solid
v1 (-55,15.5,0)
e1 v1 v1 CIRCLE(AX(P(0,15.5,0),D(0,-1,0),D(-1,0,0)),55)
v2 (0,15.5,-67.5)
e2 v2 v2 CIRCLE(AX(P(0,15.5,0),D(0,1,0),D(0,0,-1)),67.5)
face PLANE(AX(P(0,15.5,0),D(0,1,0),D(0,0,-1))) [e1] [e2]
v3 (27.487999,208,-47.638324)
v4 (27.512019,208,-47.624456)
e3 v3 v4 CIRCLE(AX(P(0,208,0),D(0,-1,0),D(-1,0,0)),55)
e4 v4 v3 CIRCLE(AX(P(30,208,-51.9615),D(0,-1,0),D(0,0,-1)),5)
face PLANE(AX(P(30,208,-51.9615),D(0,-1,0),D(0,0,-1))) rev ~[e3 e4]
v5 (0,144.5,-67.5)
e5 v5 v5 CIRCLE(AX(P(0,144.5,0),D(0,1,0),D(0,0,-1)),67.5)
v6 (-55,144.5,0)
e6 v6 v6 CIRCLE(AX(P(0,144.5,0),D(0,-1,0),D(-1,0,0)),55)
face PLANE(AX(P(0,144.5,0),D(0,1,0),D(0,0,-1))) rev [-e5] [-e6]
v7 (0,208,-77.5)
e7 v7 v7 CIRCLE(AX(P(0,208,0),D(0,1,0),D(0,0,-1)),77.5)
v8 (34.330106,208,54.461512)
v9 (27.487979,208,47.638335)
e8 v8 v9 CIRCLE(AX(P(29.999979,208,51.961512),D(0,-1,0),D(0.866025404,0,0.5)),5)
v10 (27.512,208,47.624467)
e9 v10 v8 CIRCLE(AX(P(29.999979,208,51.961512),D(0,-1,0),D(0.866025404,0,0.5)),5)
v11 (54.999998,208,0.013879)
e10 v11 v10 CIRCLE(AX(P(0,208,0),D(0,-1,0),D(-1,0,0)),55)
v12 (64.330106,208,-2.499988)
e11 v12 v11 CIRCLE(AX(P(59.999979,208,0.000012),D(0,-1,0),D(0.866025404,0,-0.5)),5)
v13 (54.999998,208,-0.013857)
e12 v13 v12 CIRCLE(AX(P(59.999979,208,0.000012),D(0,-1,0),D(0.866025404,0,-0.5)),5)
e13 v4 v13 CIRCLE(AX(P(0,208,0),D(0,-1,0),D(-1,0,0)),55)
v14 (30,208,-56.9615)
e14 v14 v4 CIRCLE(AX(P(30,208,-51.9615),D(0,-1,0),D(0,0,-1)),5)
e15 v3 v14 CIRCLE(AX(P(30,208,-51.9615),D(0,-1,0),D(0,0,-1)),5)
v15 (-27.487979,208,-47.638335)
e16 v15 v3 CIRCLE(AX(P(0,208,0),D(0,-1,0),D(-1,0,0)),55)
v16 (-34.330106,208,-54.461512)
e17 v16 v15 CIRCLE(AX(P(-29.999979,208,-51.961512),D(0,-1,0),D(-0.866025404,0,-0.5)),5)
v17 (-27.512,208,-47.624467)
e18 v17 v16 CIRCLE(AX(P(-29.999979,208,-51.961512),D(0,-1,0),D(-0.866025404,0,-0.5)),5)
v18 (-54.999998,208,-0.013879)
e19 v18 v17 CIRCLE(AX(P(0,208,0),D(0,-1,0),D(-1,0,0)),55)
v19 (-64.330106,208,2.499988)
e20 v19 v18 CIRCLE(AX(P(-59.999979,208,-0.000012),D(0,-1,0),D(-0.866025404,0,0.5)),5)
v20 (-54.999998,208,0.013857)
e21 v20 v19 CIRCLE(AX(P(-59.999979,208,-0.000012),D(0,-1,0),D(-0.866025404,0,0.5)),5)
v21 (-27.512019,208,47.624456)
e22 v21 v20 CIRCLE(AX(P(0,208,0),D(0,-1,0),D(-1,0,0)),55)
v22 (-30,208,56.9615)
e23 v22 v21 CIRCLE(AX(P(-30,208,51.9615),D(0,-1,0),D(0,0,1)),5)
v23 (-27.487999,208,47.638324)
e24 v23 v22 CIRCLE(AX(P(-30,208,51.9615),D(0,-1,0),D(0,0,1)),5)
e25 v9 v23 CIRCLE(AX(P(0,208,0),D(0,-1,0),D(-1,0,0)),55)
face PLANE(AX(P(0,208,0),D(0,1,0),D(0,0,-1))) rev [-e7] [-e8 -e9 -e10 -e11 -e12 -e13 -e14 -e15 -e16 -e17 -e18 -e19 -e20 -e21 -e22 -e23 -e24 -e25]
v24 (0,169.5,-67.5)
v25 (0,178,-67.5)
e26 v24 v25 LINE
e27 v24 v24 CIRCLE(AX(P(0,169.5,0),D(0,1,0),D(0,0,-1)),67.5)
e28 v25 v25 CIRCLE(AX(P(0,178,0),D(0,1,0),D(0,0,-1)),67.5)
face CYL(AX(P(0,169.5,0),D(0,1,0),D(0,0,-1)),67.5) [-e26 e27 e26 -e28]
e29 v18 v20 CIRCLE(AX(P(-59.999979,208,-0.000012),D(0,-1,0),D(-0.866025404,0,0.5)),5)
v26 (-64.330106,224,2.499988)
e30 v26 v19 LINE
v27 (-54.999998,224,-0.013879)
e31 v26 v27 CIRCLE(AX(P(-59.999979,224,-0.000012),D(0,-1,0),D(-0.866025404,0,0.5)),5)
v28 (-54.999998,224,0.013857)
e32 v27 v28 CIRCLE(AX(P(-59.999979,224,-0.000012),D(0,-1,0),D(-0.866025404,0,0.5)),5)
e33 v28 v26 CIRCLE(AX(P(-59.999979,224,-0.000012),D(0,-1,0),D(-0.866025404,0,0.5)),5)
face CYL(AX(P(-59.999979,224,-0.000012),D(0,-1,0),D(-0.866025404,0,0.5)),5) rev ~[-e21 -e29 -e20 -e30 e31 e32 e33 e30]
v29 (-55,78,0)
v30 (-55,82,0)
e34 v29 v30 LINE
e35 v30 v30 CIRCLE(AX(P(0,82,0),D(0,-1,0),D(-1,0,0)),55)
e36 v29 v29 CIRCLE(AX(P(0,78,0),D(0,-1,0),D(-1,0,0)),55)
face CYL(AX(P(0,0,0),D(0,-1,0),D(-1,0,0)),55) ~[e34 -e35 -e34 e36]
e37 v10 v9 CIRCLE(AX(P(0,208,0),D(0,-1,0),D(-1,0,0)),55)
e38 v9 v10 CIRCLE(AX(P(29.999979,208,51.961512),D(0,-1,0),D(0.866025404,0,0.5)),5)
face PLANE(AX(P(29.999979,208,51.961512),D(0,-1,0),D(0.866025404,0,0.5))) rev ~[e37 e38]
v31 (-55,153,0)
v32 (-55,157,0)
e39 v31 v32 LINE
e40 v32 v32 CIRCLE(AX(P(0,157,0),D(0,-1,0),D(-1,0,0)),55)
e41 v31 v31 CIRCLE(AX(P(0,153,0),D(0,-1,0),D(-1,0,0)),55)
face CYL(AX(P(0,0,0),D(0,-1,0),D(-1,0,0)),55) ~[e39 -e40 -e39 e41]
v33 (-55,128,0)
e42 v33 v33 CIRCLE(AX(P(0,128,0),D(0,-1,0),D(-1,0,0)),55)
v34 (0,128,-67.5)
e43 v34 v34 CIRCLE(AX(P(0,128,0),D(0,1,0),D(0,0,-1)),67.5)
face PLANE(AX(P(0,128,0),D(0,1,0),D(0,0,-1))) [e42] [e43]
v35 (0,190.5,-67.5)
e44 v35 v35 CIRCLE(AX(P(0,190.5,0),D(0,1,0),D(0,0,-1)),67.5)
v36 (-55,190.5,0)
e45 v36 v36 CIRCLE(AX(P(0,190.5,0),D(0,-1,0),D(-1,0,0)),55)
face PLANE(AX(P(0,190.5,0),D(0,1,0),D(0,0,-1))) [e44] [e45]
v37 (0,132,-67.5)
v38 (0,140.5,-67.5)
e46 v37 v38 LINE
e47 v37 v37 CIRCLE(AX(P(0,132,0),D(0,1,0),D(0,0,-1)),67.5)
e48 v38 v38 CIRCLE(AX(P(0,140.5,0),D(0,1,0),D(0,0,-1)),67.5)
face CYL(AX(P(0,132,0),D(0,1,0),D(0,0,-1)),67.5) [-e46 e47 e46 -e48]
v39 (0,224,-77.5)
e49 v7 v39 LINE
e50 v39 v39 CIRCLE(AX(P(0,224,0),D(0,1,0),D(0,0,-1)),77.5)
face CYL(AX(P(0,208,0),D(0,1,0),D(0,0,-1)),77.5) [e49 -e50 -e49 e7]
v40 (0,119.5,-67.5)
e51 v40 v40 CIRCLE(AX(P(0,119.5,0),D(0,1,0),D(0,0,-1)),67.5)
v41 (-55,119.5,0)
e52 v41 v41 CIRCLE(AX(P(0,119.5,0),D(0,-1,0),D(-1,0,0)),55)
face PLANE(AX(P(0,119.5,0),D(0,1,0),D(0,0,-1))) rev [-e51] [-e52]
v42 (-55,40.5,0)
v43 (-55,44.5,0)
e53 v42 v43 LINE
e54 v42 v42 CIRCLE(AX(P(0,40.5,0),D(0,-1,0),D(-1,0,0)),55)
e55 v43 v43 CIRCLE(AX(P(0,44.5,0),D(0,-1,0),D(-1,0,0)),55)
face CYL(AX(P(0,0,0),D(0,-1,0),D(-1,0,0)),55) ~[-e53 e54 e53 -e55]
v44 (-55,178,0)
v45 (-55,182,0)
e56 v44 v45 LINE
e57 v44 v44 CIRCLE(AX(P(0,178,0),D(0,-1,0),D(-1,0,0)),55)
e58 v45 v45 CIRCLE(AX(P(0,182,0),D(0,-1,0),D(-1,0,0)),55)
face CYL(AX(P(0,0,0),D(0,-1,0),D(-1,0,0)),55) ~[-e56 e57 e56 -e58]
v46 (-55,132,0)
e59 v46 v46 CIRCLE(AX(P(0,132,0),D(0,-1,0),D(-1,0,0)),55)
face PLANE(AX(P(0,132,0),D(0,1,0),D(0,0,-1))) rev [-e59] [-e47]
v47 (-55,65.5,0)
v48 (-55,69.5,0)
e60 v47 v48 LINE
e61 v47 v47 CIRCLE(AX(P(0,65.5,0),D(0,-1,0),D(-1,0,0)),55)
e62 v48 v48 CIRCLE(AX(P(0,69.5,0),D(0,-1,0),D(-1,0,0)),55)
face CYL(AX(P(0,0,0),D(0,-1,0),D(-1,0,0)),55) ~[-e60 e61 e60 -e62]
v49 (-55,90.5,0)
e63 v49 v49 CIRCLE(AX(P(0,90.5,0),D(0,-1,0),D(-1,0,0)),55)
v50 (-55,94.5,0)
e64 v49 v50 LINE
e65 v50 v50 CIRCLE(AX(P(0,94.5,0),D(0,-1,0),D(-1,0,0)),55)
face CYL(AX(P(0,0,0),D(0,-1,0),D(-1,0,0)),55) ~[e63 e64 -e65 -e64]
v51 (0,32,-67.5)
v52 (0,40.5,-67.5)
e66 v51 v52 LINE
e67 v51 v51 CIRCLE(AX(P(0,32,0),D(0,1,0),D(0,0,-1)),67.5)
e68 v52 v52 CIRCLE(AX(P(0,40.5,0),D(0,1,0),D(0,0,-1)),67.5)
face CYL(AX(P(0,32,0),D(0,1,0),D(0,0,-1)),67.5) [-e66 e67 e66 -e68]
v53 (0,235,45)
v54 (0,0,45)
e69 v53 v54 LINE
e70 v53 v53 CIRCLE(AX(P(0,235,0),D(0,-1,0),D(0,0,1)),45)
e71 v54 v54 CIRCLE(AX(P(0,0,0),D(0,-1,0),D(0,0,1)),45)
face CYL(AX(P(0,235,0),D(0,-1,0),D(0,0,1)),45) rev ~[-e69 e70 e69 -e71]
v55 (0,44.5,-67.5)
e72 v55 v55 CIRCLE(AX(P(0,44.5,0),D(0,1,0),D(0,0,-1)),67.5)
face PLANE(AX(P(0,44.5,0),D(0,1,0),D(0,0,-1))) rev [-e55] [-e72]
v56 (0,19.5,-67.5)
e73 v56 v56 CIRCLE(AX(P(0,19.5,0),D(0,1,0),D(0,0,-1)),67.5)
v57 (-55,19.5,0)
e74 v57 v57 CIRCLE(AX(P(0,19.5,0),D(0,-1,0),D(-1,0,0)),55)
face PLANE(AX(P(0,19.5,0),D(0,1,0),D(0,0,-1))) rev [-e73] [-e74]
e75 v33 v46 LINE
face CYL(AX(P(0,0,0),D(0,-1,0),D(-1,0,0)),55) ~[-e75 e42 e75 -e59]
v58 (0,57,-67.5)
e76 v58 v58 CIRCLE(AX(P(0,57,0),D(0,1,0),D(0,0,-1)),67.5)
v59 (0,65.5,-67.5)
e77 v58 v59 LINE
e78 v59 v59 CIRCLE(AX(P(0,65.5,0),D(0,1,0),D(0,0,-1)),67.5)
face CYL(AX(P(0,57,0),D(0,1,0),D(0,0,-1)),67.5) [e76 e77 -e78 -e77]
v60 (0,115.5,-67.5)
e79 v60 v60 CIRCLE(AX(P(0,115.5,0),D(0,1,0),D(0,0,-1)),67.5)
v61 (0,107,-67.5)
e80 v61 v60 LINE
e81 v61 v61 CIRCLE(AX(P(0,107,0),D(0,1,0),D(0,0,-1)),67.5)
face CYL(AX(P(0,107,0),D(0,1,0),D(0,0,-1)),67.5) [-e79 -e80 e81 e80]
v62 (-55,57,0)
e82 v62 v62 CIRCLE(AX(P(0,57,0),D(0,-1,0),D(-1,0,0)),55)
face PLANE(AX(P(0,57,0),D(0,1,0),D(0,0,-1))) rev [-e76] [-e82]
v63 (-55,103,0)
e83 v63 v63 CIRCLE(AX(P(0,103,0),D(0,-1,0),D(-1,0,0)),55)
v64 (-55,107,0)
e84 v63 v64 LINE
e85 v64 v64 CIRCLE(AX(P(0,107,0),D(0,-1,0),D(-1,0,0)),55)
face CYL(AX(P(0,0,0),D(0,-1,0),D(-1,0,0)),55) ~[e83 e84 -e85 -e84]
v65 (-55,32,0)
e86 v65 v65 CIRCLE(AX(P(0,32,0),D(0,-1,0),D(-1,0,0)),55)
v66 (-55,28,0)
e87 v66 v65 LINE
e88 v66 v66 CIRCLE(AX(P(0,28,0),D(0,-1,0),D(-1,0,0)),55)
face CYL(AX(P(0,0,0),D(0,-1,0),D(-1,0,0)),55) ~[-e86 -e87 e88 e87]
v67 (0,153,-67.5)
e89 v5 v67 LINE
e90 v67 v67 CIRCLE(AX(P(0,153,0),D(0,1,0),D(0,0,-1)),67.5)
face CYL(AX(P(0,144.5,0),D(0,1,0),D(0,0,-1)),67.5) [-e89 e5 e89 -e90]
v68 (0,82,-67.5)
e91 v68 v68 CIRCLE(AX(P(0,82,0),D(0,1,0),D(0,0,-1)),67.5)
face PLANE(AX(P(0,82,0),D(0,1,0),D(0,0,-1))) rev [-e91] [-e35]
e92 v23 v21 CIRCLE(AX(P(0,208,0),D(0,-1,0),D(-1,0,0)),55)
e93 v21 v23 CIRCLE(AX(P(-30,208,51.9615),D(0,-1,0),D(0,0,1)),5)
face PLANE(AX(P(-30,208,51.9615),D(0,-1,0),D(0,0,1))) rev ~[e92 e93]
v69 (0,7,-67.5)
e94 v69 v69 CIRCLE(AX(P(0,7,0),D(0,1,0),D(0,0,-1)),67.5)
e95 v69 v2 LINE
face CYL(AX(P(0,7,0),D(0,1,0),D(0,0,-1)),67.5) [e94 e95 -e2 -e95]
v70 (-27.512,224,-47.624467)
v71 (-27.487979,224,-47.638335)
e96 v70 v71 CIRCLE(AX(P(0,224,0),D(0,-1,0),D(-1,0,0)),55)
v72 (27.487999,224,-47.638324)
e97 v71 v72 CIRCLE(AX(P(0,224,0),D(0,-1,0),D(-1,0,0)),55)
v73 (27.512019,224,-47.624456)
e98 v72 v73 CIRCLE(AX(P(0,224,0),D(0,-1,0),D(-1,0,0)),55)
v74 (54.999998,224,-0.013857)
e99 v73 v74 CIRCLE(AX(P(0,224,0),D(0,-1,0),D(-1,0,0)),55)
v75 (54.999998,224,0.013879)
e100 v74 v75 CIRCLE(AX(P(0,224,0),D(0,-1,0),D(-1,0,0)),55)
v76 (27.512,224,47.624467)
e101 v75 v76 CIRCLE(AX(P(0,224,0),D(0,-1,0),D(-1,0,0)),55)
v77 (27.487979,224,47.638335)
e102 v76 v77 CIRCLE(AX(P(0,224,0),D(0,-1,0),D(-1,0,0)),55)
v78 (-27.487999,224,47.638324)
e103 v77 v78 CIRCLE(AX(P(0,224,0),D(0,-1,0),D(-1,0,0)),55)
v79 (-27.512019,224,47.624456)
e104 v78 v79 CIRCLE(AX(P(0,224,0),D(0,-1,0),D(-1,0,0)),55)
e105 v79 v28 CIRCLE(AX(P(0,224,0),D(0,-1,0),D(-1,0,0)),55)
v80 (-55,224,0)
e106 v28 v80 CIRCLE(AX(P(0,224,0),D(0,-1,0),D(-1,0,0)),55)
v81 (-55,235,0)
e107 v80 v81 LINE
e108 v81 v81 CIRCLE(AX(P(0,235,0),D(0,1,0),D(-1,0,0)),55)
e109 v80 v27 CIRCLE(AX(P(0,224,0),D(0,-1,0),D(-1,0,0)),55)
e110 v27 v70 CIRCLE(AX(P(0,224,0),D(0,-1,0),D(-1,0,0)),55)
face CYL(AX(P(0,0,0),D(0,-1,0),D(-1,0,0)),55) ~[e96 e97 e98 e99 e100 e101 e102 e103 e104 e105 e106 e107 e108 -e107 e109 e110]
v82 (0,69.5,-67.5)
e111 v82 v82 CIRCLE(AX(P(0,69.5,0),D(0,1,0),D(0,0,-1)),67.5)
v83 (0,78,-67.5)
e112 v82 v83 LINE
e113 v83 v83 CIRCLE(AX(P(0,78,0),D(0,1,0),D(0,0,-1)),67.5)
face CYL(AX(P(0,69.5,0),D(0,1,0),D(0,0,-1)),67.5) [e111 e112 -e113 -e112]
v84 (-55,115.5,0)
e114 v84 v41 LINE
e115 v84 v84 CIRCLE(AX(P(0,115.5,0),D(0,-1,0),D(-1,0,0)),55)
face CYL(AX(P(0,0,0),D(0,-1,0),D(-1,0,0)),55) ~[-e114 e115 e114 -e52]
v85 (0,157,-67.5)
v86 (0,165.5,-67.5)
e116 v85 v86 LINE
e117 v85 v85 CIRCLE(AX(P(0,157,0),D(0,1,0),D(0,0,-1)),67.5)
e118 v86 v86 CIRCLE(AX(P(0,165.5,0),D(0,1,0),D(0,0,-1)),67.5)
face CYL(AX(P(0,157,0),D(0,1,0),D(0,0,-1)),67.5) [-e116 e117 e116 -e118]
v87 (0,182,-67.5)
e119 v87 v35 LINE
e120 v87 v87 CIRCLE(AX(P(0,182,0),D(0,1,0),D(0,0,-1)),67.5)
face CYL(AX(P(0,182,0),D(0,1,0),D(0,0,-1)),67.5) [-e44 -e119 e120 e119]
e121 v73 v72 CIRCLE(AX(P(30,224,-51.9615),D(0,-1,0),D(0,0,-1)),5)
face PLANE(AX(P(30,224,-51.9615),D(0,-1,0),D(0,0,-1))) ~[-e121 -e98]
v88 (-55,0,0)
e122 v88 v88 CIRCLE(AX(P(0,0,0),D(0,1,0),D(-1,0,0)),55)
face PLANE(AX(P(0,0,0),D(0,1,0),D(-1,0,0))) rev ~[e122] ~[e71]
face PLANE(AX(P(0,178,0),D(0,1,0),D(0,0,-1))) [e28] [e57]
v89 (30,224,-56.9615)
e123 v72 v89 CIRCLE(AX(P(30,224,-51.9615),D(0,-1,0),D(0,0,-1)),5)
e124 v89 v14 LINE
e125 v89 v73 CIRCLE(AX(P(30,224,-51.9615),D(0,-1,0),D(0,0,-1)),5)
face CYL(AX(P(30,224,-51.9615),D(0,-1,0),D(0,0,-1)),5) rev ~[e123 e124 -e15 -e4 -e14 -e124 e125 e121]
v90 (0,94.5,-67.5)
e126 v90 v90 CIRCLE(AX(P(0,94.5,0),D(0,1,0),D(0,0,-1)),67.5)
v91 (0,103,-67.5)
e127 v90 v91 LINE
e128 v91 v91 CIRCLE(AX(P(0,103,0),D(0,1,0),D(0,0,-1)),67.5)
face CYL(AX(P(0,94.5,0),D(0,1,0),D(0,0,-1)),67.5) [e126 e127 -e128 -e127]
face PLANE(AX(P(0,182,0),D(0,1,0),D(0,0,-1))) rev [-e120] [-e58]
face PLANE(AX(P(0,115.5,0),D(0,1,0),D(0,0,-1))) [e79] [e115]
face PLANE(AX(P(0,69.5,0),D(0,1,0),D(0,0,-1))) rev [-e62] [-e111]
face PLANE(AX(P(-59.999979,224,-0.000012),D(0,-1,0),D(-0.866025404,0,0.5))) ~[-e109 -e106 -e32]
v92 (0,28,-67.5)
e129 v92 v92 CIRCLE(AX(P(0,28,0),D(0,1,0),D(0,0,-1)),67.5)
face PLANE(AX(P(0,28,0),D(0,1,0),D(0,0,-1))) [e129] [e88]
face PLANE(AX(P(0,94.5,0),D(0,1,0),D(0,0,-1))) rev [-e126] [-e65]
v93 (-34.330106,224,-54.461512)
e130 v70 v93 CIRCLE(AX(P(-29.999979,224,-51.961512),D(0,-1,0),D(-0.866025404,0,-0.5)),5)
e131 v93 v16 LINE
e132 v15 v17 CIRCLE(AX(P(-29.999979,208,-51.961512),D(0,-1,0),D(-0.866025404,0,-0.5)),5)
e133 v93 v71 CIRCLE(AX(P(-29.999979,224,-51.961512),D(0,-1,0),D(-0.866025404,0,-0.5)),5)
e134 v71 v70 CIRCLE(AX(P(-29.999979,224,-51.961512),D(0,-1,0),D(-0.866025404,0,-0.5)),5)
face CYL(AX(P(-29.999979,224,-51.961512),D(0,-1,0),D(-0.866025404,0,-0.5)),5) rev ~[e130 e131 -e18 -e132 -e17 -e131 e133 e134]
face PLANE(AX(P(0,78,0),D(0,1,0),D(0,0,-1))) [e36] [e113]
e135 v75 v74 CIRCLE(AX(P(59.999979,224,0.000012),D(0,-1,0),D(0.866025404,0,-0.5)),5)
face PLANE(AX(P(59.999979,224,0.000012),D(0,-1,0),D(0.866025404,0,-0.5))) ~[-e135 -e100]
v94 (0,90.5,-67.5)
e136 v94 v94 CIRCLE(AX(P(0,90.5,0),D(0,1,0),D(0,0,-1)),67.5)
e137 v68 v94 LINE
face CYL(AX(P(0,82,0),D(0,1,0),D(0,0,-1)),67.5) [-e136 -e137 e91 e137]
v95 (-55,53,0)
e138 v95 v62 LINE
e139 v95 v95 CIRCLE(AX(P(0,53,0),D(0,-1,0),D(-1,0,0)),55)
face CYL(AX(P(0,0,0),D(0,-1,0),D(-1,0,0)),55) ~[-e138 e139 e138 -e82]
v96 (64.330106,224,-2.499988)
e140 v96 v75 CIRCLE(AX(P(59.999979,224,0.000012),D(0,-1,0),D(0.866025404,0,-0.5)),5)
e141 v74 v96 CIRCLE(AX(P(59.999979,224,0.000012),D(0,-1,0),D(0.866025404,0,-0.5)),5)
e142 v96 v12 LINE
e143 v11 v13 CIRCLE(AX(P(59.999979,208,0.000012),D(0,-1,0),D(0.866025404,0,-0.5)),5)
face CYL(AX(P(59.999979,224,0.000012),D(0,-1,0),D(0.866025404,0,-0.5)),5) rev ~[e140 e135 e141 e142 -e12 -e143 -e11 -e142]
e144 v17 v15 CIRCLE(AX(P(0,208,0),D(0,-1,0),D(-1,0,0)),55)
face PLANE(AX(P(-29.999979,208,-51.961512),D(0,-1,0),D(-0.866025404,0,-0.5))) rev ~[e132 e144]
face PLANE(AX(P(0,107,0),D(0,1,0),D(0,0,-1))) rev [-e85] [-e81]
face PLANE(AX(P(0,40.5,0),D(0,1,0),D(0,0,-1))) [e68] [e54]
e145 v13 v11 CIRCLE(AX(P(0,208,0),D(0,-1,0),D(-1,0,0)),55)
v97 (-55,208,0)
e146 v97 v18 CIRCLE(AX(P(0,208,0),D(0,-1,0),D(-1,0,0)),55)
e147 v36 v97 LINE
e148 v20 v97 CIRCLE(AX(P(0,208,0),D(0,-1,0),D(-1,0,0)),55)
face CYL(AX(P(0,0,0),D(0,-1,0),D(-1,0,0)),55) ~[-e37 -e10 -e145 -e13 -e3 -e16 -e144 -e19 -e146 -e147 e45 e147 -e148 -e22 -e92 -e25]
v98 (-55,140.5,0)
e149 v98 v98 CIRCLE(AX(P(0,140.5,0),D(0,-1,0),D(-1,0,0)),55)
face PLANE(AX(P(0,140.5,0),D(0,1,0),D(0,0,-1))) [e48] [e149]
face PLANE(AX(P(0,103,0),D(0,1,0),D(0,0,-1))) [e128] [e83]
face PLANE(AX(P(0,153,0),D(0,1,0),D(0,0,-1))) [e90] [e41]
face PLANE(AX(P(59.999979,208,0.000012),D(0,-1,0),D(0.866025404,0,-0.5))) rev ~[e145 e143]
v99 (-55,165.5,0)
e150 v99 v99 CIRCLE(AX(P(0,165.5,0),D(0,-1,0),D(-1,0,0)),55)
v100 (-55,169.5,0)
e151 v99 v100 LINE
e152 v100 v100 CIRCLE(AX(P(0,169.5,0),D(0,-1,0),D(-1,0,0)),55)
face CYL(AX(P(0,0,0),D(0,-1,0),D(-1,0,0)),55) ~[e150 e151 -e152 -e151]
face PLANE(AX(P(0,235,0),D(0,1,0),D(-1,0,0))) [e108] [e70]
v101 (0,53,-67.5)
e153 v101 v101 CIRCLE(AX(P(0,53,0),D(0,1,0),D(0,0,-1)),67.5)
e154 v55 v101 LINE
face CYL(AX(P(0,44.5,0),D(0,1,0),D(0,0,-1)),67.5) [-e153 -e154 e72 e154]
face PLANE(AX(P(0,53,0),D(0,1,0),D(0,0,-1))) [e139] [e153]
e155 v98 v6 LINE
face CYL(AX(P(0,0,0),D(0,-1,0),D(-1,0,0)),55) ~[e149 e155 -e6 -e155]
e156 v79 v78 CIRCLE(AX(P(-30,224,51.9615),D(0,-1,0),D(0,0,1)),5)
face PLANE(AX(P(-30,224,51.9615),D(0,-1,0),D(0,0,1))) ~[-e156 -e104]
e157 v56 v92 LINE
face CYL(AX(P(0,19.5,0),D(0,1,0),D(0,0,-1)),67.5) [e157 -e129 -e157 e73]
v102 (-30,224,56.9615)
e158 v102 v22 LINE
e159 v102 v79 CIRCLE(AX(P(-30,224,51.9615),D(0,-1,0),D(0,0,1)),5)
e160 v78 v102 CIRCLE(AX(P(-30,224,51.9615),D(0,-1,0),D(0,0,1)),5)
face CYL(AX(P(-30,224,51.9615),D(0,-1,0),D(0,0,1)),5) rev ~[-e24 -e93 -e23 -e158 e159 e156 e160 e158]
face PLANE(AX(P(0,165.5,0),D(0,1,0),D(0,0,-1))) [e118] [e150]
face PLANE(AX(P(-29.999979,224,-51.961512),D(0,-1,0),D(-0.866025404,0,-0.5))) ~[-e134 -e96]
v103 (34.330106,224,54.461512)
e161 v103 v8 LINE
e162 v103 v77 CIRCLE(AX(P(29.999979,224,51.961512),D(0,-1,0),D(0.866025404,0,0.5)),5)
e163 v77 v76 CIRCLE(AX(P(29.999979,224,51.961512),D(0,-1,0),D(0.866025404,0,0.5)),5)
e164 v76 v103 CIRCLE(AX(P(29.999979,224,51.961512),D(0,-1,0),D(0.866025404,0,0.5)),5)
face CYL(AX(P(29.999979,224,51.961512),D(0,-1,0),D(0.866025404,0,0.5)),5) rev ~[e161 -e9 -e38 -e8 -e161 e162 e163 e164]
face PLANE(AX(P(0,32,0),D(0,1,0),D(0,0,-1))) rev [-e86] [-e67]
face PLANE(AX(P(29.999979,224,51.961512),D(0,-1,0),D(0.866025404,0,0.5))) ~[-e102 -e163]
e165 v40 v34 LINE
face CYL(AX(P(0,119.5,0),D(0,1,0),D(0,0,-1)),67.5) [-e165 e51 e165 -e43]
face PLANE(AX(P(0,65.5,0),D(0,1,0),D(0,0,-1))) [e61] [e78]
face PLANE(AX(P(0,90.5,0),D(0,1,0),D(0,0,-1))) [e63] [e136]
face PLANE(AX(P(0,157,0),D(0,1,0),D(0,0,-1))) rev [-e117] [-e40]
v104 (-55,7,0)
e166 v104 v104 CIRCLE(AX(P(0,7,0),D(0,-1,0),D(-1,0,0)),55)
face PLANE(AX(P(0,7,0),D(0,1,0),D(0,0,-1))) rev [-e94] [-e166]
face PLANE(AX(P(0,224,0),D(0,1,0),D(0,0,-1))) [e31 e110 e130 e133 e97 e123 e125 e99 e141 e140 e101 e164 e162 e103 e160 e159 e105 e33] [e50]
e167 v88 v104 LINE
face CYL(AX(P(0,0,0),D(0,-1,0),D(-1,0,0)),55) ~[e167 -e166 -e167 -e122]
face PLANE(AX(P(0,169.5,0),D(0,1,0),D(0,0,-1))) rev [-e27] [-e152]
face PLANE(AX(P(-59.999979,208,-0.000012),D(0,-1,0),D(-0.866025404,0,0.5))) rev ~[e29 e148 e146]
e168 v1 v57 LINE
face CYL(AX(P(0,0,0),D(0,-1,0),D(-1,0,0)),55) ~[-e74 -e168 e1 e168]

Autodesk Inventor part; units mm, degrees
ref_plane "XZ Plane" through (0, 0, 0) normal (0, 1, 0) x (-1, 0, 0)
ref_plane "XY Plane" through (0, 0, 0) normal (0, 0, 1) x (1, 0, 0)
sketch "Skizze1" plane through (0, 0, 0) normal (0, 1, 0) x (-1, 0, 0)
  circle A0 centre (0, 0) radius 55
  dimension "d0" = 110
extrude "Extrusion1" add sketch "Skizze1" along normal blind 235
ref_plane "Arbeitsebene1" through (0, 0, 0) normal (1, 0, 0) x (0, 1, 0)
sketch "Skizze2" plane through (0, 0, 0) normal (1, 0, 0) x (0, 1, 0)
  line L0 (235, -55) -> (235, 55) projected
  line L1 (0, -55) -> (0, 55) projected
  line L2 (0, -55) -> (235, -55) projected
  line L3 (0, 55) -> (235, 55) projected
  line L4 (7, -55) -> (7, -67.5)
  line L5 (7, -67.5) -> (15.5, -67.5)
  line L6 (15.5, -67.5) -> (15.5, -55)
  line L7 (0, 0) -> (235, 0)
  line L8 (28, -67.5) -> (28, -55)
  line L9 (19.5, -55) -> (19.5, -67.5)
  line L10 (19.5, -67.5) -> (28, -67.5)
  line L11 (40.5, -67.5) -> (40.5, -55)
  line L12 (32, -55) -> (32, -67.5)
  line L13 (32, -67.5) -> (40.5, -67.5)
  line L14 (53, -67.5) -> (53, -55)
  line L15 (44.5, -55) -> (44.5, -67.5)
  line L16 (44.5, -67.5) -> (53, -67.5)
  line L17 (65.5, -67.5) -> (65.5, -55)
  line L18 (57, -55) -> (57, -67.5)
  line L19 (57, -67.5) -> (65.5, -67.5)
  line L20 (78, -67.5) -> (78, -55)
  line L21 (69.5, -55) -> (69.5, -67.5)
  line L22 (69.5, -67.5) -> (78, -67.5)
  line L23 (90.5, -67.5) -> (90.5, -55)
  line L24 (82, -55) -> (82, -67.5)
  line L25 (82, -67.5) -> (90.5, -67.5)
  line L26 (103, -67.5) -> (103, -55)
  line L27 (94.5, -55) -> (94.5, -67.5)
  line L28 (94.5, -67.5) -> (103, -67.5)
  line L29 (115.5, -67.5) -> (115.5, -55)
  line L30 (107, -55) -> (107, -67.5)
  line L31 (107, -67.5) -> (115.5, -67.5)
  line L32 (128, -67.5) -> (128, -55)
  line L33 (119.5, -55) -> (119.5, -67.5)
  line L34 (119.5, -67.5) -> (128, -67.5)
  line L35 (140.5, -67.5) -> (140.5, -55)
  line L36 (132, -55) -> (132, -67.5)
  line L37 (132, -67.5) -> (140.5, -67.5)
  line L38 (153, -67.5) -> (153, -55)
  line L39 (144.5, -55) -> (144.5, -67.5)
  line L40 (144.5, -67.5) -> (153, -67.5)
  line L41 (165.5, -67.5) -> (165.5, -55)
  line L42 (157, -55) -> (157, -67.5)
  line L43 (157, -67.5) -> (165.5, -67.5)
  line L44 (178, -67.5) -> (178, -55)
  line L45 (169.5, -55) -> (169.5, -67.5)
  line L46 (169.5, -67.5) -> (178, -67.5)
  line L47 (190.5, -67.5) -> (190.5, -55)
  line L48 (182, -55) -> (182, -67.5)
  line L49 (182, -67.5) -> (190.5, -67.5)
  line L50 (190.5, -55) -> (182, -55)
  line L51 (178, -55) -> (169.5, -55)
  line L52 (165.5, -55) -> (157, -55)
  line L53 (153, -55) -> (144.5, -55)
  line L54 (140.5, -55) -> (132, -55)
  line L55 (128, -55) -> (119.5, -55)
  line L56 (115.5, -55) -> (107, -55)
  line L57 (103, -55) -> (94.5, -55)
  line L58 (90.5, -55) -> (82, -55)
  line L59 (78, -55) -> (69.5, -55)
  line L60 (65.5, -55) -> (57, -55)
  line L61 (53, -55) -> (44.5, -55)
  line L62 (40.5, -55) -> (32, -55)
  line L63 (28, -55) -> (19.5, -55)
  line L64 (15.5, -55) -> (7, -55)
  line L65 (208, -55) -> (208, -77.5)
  line L66 (208, -77.5) -> (224, -77.5)
  line L67 (224, -77.5) -> (224, -55)
  line L68 (208, -55) -> (224, -55)
  point P0 (7, -61.25)
  point P1 (19.5, -61.25)
  point P2 (32, -61.25)
  point P3 (44.5, -61.25)
  point P4 (57, -61.25)
  point P5 (69.5, -61.25)
  point P6 (82, -61.25)
  point P7 (94.5, -61.25)
  point P8 (107, -61.25)
  point P9 (119.5, -61.25)
  point P10 (132, -61.25)
  point P11 (144.5, -61.25)
  point P12 (157, -61.25)
  point P13 (169.5, -61.25)
  point P14 (182, -61.25)
  point P15 (190.5, -55)
  point P16 (178, -55)
  point P17 (165.5, -55)
  point P18 (153, -55)
  point P19 (140.5, -55)
  point P20 (128, -55)
  point P21 (115.5, -55)
  point P22 (103, -55)
  point P23 (90.5, -55)
  point P24 (78, -55)
  point P25 (65.5, -55)
  point P26 (53, -55)
  point P27 (40.5, -55)
  point P28 (28, -55)
  dimension "d4" = 7
  dimension "d5" = 8.5
  dimension "d6" = 135
  dimension "d9" = 12.5
  dimension "d15" = 16
  dimension "d16" = 11
  dimension "d17" = 155
revolve "Umdrehung1" add sketch "Skizze2" angle 360 about axis through (0, 0, 0) along (0, 1, 0) contours L67 L66 L65 L2 | L47 L49 L48 L2 | L2 L6 L5 L4 | L44 L46 L45 L2 | L2 L8 L10 L9 | L41 L43 L42 L2 | L2 L11 L13 L12 | L38 L40 L39 L2 | L2 L14 L16 L15 | L35 L37 L36 L2 | L2 L17 L19 L18 | L32 L34 L33 L2 | L2 L20 L22 L21 | L29 L31 L30 L2 | L2 L23 L25 L24 | L26 L28 L27 L2
sketch "Skizze3" plane through (0, 235, 0) normal (0, 1, 0) x (1, 0, 0)
  circle A0 centre (0, 0) radius 55 projected
hole "Bohrung1" at (0, 235, 0) direction (0, -1, 0) diameter 90 depth 235
sketch "Skizze4" plane through (0, 224, 0) normal (0, 1, 0) x (1, 0, 0)
  circle A0 centre (0, 0) radius 60 construction
  line L0 (0, 0) -> (-44.5912, -77.2343) construction
  circle A1 centre (0, 0) radius 55 projected
  line L1 (0, 0) -> (43.5598, -75.4477) construction
  line L2 (0, 0) -> (0, -79.8466) construction
  point P0 (-30, -51.9615)
  dimension "d25" = 120
  dimension "d26" = 60
  dimension "d27" = 30
hole "Bohrung2" at (-30, 224, 51.9615) direction (0, -1, 0) diameter 10 depth 16
pattern_circular "Runde Anordnung1" count 6 over 360 about axis through (0, 216, 0) along (0, 1, 0) of "Bohrung2"
properties part number "14" material "PBT-Kunststoff"
